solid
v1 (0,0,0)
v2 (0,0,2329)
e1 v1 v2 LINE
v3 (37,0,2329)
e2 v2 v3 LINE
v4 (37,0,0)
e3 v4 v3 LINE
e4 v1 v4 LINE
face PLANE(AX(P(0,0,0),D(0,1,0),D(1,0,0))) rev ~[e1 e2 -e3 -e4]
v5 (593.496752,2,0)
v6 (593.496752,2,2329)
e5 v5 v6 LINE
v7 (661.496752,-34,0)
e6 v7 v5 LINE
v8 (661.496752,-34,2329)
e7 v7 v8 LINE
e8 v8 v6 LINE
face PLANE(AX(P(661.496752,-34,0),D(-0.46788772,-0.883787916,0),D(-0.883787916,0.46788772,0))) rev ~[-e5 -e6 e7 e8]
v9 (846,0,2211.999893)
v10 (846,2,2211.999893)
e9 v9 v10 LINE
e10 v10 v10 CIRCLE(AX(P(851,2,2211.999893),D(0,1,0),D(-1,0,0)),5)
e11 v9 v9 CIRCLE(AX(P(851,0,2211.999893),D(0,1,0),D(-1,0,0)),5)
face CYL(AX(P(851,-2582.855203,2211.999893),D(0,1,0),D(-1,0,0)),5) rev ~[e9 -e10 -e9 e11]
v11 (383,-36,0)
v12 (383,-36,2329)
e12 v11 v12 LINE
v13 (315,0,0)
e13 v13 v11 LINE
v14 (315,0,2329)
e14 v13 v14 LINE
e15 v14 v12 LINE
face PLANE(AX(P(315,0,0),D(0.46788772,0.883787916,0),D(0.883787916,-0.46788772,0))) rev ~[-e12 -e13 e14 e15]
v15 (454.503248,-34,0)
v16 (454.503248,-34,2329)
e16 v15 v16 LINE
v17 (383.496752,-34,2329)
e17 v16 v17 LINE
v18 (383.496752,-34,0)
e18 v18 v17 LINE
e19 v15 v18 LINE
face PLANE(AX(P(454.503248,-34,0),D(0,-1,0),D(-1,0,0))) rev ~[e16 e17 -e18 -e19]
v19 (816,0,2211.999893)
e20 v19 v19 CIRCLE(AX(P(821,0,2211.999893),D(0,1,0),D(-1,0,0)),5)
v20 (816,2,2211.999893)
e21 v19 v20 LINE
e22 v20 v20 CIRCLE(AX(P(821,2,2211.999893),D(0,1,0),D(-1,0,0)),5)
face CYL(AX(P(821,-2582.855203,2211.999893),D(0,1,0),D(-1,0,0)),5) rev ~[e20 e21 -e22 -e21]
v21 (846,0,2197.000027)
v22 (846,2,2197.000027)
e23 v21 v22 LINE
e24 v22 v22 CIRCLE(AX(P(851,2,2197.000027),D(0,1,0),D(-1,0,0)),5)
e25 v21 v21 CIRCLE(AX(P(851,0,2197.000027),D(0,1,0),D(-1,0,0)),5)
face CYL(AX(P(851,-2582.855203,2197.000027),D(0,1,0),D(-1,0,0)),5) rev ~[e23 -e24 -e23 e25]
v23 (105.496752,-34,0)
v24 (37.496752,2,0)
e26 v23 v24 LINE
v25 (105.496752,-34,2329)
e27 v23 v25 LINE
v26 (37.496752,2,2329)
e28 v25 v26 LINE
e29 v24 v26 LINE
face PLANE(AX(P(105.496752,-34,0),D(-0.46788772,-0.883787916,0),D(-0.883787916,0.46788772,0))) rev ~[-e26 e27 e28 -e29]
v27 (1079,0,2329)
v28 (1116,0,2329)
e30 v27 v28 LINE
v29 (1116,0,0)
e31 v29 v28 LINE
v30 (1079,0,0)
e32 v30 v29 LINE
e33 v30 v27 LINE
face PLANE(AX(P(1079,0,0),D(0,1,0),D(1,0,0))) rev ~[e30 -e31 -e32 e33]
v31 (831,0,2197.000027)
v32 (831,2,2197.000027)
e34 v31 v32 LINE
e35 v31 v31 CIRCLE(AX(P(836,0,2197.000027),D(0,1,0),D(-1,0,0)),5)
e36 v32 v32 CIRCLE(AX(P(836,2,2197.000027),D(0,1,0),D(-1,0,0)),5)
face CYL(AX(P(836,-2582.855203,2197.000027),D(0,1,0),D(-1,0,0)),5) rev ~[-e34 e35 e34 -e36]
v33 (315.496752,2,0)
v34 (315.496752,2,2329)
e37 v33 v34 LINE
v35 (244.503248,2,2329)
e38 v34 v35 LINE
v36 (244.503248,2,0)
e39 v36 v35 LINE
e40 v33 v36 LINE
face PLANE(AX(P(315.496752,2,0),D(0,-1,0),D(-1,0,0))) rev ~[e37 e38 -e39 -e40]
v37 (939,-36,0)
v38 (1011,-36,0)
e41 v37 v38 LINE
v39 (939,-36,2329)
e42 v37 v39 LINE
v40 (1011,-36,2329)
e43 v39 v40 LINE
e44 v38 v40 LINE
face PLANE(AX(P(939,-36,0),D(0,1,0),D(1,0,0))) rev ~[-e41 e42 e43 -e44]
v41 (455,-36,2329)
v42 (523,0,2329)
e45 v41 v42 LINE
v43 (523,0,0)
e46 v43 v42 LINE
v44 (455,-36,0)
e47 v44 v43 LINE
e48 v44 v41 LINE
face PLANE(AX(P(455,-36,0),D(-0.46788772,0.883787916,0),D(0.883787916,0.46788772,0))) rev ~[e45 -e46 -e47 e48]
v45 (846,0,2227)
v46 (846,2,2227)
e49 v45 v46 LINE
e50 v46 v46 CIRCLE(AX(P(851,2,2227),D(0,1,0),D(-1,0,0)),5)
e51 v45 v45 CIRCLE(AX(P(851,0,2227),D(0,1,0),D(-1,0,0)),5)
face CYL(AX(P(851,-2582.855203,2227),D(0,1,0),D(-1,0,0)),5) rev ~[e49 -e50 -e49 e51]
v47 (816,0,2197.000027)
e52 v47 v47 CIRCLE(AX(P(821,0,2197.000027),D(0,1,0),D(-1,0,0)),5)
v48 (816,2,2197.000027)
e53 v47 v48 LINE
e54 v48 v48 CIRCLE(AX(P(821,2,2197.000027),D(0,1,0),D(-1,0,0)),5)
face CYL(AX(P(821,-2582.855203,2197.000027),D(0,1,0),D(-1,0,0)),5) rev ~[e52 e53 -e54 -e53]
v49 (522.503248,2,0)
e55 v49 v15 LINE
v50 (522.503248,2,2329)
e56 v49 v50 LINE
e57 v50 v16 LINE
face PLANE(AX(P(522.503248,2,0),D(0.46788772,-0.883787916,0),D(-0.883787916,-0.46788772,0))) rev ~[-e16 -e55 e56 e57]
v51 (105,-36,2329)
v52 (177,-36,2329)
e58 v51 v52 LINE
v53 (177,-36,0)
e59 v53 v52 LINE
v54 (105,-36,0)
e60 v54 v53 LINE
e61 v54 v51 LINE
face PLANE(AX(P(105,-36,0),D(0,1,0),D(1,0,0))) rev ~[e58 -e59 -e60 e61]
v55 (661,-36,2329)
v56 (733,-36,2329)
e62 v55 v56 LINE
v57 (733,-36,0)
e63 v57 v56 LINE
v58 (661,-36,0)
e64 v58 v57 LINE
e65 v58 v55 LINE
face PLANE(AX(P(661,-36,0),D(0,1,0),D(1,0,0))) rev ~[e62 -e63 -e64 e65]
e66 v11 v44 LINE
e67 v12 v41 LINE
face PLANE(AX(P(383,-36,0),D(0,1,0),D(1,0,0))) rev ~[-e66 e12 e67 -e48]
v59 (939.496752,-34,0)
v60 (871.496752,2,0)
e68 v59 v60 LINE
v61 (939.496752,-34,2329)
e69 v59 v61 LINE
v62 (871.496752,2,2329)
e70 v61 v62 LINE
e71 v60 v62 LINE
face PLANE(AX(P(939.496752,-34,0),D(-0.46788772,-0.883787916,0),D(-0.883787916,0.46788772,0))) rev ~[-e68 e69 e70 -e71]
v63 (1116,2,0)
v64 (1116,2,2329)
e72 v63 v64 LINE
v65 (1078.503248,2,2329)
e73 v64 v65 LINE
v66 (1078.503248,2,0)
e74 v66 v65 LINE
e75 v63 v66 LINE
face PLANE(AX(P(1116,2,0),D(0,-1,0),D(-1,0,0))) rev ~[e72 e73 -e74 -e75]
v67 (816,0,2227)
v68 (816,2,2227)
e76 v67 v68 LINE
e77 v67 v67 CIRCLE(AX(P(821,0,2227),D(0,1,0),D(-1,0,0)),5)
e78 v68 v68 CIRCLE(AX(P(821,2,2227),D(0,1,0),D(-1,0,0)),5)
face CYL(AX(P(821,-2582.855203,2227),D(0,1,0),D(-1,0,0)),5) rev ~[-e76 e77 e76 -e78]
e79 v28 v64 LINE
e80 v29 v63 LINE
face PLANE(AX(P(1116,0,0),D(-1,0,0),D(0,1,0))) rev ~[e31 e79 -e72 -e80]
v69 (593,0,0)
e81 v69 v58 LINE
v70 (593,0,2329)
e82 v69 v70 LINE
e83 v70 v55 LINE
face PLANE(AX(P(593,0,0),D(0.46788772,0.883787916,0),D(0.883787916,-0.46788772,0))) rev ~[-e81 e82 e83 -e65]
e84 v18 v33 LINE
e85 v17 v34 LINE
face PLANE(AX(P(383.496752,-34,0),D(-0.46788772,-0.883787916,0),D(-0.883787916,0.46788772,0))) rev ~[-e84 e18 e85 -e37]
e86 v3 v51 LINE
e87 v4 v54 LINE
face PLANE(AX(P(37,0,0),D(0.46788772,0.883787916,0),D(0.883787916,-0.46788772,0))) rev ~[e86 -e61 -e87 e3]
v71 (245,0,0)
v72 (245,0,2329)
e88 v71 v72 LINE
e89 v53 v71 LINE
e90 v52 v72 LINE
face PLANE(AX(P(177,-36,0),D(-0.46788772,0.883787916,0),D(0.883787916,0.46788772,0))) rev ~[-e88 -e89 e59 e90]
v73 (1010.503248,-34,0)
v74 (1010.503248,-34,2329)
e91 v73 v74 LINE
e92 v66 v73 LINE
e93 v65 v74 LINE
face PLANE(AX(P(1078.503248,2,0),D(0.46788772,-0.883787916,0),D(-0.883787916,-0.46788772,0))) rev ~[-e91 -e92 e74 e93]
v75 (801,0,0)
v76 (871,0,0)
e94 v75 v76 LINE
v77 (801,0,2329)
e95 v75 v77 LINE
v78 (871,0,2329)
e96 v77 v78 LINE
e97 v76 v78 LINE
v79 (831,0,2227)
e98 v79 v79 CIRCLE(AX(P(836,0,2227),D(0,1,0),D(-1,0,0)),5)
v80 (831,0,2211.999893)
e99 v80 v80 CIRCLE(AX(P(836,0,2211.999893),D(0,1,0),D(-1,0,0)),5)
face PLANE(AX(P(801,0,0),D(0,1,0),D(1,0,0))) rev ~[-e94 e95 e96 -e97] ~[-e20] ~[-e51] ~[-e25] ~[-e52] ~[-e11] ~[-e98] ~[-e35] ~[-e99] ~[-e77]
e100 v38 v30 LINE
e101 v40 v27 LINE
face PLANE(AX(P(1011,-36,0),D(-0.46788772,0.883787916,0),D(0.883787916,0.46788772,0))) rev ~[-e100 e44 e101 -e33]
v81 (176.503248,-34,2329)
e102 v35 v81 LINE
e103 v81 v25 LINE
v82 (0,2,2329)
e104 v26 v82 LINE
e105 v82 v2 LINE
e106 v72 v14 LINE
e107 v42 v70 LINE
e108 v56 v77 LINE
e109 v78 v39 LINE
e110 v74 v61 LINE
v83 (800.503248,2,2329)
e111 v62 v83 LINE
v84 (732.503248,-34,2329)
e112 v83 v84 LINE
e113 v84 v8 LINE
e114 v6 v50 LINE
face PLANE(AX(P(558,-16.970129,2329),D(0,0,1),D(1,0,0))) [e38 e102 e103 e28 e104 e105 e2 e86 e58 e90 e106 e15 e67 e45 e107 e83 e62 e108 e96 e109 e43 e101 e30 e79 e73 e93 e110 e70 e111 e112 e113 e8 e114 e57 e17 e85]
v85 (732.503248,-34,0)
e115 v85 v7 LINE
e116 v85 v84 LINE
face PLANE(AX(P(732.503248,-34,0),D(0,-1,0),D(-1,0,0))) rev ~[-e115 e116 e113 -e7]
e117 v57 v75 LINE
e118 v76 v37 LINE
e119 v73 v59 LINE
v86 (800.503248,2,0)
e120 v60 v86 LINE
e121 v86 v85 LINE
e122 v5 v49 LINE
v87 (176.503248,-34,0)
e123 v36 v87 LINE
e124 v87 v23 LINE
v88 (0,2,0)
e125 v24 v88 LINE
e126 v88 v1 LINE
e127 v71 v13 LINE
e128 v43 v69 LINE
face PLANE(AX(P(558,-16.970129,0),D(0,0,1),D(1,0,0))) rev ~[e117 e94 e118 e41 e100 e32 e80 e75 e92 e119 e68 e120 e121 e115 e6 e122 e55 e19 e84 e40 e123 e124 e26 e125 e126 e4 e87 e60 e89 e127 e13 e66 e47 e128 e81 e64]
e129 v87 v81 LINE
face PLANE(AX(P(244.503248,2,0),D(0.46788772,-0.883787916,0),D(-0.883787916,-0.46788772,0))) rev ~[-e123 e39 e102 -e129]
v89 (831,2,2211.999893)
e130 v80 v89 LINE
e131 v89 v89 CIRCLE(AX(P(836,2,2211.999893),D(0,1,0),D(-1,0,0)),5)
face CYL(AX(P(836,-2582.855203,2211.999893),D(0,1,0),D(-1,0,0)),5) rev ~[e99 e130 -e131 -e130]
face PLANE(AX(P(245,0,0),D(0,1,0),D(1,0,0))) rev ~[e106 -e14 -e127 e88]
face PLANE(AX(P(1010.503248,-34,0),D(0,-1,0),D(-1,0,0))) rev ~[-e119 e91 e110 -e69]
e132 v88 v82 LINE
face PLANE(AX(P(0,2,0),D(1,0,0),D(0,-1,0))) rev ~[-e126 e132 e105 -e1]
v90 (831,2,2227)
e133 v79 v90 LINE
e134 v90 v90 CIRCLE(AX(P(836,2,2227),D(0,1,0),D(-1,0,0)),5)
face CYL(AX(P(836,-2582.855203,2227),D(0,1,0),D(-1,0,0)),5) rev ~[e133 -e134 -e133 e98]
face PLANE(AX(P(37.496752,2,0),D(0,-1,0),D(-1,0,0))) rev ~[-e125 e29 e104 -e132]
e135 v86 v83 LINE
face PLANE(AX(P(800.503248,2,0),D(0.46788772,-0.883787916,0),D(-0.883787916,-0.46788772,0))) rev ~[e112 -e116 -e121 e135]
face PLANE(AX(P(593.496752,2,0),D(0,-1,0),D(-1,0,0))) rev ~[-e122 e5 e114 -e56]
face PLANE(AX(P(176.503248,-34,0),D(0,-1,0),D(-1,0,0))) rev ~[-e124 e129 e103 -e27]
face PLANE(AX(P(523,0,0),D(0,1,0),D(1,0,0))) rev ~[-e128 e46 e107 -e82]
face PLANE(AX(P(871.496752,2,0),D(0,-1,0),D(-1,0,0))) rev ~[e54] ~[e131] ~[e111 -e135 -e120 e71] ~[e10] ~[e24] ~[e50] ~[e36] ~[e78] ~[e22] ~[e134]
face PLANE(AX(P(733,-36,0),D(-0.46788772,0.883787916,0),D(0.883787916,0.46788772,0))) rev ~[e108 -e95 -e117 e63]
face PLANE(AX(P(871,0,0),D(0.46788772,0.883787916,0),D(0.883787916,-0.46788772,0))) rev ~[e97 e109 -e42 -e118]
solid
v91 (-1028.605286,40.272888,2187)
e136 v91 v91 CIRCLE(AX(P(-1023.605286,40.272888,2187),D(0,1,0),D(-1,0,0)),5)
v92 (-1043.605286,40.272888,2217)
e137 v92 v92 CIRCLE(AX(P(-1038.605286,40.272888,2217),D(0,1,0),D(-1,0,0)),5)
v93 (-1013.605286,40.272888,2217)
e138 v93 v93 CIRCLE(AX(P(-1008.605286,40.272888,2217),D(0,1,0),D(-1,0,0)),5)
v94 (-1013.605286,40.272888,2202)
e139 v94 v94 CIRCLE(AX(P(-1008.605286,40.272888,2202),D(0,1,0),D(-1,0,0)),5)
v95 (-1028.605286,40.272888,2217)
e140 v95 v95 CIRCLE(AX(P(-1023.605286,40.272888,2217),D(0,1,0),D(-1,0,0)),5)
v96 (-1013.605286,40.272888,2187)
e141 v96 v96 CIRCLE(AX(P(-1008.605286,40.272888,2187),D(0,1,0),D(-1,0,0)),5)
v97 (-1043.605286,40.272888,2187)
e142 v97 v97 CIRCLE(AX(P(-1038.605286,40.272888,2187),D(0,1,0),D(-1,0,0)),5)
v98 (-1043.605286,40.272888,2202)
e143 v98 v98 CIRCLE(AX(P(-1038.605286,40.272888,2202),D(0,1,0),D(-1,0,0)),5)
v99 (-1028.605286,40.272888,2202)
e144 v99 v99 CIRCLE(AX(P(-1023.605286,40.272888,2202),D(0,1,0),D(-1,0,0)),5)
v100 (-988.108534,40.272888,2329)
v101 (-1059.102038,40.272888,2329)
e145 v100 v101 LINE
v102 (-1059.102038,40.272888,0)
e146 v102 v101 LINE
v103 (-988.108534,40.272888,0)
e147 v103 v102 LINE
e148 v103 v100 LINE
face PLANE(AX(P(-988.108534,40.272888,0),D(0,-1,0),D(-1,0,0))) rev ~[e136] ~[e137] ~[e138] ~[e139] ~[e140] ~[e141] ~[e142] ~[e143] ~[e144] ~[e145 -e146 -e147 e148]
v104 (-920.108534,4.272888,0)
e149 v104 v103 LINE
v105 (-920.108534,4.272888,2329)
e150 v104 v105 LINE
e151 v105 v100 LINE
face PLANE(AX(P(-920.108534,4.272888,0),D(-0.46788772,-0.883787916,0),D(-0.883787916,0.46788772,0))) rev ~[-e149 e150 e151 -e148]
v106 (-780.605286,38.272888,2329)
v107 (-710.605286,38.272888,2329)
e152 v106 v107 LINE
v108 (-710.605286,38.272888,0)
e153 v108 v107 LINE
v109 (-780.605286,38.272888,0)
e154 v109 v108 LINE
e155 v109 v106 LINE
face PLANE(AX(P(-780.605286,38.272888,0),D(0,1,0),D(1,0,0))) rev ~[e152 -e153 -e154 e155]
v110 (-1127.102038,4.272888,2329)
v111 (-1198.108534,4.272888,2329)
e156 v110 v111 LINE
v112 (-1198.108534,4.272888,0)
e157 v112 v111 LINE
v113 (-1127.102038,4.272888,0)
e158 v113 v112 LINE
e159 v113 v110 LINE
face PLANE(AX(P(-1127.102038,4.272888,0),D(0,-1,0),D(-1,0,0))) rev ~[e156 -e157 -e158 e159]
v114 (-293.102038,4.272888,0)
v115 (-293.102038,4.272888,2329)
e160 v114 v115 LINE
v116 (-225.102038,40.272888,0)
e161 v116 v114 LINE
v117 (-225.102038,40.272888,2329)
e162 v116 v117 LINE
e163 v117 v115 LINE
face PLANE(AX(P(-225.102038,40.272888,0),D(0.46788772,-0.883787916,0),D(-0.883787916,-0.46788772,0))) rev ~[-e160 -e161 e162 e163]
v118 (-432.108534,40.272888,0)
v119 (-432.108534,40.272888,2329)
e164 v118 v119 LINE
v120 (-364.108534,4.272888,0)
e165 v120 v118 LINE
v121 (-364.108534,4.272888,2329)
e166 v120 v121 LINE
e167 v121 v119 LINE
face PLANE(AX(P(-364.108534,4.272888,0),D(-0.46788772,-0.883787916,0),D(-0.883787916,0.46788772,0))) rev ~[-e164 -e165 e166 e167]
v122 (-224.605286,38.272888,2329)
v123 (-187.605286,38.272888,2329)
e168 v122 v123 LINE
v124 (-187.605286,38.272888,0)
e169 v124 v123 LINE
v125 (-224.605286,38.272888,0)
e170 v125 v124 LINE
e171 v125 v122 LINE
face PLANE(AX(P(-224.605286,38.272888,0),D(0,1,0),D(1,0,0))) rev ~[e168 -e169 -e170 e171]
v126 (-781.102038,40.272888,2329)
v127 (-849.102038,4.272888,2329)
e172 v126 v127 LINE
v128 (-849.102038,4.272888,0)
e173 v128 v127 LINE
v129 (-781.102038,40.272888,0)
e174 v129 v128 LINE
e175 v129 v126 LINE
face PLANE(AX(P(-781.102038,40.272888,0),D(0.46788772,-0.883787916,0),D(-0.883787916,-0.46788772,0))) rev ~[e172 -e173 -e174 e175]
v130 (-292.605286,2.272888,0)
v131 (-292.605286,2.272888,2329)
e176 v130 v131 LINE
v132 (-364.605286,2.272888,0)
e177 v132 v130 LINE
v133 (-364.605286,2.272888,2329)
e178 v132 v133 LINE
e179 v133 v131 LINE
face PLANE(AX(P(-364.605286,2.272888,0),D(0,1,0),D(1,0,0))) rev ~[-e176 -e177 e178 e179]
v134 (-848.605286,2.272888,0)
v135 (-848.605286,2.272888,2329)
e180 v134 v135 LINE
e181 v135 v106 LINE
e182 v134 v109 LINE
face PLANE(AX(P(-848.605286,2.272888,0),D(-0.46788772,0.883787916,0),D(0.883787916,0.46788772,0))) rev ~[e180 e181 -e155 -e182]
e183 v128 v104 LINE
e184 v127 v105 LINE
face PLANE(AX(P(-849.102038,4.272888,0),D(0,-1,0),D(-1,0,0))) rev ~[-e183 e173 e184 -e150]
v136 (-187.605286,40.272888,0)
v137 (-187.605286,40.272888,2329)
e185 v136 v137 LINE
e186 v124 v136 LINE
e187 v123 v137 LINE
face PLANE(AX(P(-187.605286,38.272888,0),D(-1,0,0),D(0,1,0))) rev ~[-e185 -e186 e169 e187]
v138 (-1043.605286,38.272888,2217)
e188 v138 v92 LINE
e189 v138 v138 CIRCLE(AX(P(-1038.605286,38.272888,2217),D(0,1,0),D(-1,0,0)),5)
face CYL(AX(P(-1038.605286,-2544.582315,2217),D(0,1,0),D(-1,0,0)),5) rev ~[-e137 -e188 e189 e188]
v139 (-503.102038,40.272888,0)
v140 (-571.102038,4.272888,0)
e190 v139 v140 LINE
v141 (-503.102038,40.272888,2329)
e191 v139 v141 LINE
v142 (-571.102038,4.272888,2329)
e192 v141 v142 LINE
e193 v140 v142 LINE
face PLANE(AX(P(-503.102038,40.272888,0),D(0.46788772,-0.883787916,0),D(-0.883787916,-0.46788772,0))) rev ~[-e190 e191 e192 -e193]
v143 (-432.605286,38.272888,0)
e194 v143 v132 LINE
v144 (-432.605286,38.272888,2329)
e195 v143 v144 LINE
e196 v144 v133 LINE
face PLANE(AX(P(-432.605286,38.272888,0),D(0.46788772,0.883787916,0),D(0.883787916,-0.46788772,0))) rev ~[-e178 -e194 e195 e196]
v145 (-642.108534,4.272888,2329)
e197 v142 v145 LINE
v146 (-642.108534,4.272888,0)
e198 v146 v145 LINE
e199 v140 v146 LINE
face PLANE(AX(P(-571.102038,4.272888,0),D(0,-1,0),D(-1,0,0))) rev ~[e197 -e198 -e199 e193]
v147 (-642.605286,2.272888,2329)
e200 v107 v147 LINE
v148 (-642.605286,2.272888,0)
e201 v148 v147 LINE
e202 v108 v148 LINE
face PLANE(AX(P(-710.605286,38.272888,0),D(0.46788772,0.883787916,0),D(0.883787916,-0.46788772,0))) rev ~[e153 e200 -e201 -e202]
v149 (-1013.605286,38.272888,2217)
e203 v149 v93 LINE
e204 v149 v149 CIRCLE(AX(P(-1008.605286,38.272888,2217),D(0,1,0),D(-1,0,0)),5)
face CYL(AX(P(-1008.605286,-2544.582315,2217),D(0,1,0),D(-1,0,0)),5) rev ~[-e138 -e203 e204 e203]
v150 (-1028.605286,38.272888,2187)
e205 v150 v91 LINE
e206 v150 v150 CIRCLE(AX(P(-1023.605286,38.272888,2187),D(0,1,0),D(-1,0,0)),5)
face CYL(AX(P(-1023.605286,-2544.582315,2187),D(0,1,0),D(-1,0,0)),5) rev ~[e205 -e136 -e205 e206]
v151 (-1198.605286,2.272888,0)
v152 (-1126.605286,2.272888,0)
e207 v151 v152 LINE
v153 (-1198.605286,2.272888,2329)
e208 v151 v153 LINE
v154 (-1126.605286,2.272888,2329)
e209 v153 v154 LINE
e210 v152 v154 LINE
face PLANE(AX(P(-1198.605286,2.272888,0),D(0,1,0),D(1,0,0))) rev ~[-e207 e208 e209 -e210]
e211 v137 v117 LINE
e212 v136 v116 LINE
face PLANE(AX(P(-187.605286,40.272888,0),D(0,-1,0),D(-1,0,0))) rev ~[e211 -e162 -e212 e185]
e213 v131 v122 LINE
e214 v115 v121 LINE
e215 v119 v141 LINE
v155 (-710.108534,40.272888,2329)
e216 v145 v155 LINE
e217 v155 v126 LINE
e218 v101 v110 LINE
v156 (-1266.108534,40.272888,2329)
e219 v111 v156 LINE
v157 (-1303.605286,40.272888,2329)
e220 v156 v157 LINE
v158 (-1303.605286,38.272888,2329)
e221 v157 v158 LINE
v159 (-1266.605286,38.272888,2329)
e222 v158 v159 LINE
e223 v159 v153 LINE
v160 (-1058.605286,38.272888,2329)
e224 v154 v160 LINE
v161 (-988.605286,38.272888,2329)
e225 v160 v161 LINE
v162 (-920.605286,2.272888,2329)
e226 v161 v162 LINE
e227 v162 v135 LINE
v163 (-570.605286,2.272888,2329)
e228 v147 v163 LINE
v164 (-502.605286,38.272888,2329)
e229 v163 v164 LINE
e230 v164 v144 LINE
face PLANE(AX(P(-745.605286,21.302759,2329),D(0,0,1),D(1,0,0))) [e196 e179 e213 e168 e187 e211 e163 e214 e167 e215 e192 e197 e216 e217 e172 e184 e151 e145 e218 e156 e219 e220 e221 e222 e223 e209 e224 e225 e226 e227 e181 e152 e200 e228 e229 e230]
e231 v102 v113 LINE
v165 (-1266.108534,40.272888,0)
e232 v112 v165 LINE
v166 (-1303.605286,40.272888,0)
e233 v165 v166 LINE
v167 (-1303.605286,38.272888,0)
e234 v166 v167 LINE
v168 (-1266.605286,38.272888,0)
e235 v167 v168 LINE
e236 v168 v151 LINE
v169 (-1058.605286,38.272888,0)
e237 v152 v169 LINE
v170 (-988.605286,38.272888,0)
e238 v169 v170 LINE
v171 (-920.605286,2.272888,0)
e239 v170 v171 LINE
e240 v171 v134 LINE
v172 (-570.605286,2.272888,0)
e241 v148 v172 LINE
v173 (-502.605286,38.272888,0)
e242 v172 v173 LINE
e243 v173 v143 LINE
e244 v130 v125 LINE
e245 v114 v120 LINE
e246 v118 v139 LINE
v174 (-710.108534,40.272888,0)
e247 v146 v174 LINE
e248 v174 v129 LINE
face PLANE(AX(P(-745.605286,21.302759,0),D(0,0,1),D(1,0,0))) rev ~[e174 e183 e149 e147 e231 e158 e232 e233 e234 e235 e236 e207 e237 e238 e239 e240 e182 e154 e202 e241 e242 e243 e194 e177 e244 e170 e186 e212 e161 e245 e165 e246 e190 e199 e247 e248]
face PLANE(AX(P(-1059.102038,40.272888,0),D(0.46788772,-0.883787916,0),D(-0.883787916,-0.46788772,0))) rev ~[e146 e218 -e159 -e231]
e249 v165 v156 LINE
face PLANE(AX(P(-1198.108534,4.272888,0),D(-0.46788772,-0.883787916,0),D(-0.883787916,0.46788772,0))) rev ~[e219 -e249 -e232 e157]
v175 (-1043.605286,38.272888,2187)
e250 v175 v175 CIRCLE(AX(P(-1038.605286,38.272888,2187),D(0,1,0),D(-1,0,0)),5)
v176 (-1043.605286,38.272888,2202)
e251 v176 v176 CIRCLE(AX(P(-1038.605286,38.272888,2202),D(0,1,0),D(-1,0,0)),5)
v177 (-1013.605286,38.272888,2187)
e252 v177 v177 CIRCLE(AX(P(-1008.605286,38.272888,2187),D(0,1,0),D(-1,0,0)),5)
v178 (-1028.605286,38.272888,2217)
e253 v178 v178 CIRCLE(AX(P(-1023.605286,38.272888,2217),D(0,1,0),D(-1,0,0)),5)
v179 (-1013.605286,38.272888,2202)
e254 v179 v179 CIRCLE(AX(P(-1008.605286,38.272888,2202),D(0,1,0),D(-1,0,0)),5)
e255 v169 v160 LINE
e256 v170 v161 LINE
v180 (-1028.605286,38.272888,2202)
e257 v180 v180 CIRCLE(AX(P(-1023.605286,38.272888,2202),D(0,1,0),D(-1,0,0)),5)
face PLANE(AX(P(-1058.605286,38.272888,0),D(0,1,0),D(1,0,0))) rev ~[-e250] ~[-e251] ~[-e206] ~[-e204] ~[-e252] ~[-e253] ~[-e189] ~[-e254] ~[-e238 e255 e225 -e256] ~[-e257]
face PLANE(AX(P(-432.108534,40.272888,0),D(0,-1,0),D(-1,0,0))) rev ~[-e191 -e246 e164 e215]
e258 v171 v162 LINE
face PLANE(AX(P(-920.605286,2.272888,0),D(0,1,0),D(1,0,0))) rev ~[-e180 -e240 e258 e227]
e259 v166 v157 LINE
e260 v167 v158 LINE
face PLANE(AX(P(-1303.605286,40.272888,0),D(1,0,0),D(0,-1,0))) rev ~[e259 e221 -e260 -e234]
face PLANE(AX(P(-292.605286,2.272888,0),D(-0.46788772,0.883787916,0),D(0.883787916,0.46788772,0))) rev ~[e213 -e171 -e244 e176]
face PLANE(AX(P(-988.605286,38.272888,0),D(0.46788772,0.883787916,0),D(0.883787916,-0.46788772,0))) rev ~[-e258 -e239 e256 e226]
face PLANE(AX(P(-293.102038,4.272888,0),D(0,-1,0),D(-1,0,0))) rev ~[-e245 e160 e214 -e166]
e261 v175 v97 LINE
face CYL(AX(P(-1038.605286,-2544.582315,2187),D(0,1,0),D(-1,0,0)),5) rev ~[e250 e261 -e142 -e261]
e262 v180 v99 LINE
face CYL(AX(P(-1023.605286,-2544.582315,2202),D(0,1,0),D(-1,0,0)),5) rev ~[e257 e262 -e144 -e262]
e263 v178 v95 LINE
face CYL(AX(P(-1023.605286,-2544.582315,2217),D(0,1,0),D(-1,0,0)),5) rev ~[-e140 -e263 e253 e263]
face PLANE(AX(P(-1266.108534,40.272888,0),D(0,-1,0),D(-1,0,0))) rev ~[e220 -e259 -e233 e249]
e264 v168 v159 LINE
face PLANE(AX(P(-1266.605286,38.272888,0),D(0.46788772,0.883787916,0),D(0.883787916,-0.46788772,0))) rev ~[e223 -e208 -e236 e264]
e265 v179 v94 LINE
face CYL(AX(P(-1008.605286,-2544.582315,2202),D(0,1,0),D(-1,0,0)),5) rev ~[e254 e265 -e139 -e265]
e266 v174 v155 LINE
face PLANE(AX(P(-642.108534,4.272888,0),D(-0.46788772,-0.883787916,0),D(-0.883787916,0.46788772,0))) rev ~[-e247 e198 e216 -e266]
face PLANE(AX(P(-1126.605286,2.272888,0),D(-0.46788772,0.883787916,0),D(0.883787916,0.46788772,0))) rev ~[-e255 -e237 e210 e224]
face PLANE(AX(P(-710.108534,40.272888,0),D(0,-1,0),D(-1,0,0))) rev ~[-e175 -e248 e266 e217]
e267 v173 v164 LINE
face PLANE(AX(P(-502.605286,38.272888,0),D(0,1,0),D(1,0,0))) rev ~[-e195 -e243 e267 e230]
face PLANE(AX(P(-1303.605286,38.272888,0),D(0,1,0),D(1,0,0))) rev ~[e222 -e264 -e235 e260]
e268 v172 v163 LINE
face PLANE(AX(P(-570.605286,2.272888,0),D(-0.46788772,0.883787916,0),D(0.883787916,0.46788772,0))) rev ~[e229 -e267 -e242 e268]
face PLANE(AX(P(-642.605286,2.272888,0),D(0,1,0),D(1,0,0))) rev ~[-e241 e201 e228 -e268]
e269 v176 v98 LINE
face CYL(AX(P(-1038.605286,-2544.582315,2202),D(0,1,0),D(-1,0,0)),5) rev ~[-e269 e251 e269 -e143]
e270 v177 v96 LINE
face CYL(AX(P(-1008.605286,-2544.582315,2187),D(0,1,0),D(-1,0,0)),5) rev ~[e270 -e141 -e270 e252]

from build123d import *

# Parameters (mm, degrees)
F1_DEPTH = 2329
F3_D     = 10
F5_DEPTH = 2329
F7_D     = 10


with BuildPart() as f1:
    # F0 (on Top) → F1 (new body)
    with BuildSketch(Plane.XY):
        Polygon((0, 2), (0, 0), (37, 0), (105, -36), (177, -36), (245, 0), (315, 0), (383, -36), (455, -36), (523, 0), (593, 0), (661, -36), (733, -36), (801, 0), (871, 0), (939, -36), (1011, -36), (1079, 0), (1116, 0), (1116, 2), (1078.503248, 2), (1010.503248, -34), (939.496752, -34), (871.496752, 2), (800.503248, 2), (732.503248, -34), (661.496752, -34), (593.496752, 2), (522.503248, 2), (454.503248, -34), (383.496752, -34), (315.496752, 2), (244.503248, 2), (176.503248, -34), (105.496752, -34), (37.496752, 2), align=None)
    extrude(amount=F1_DEPTH)

    # F3 (through all)
    with Locations(Plane.XZ):
        with Locations((836, 2227), (851, 2227), (851, 2211.999893), (836, 2211.999893), (821, 2197.000027), (836, 2197.000027), (851, 2197.000027), (821, 2211.999893), (821, 2227)):
            Hole(F3_D / 2)


with BuildPart() as f5:
    # F4 (on Top) → F5 (new body)
    with BuildSketch(Plane.XY):
        Polygon((-1303.605286, 40.272888), (-1303.605286, 38.272888), (-1266.605286, 38.272888), (-1198.605286, 2.272888), (-1126.605286, 2.272888), (-1058.605286, 38.272888), (-988.605286, 38.272888), (-920.605286, 2.272888), (-848.605286, 2.272888), (-780.605286, 38.272888), (-710.605286, 38.272888), (-642.605286, 2.272888), (-570.605286, 2.272888), (-502.605286, 38.272888), (-432.605286, 38.272888), (-364.605286, 2.272888), (-292.605286, 2.272888), (-224.605286, 38.272888), (-187.605286, 38.272888), (-187.605286, 40.272888), (-225.102038, 40.272888), (-293.102038, 4.272888), (-364.108534, 4.272888), (-432.108534, 40.272888), (-503.102038, 40.272888), (-571.102038, 4.272888), (-642.108534, 4.272888), (-710.108534, 40.272888), (-781.102038, 40.272888), (-849.102038, 4.272888), (-920.108534, 4.272888), (-988.108534, 40.272888), (-1059.102038, 40.272888), (-1127.102038, 4.272888), (-1198.108534, 4.272888), (-1266.108534, 40.272888), align=None)
    extrude(amount=F5_DEPTH)

    # F7 (through all)
    with Locations(Plane.XZ.offset(-38.272888)):
        with Locations((-1038.605286, 2217), (-1023.605286, 2217), (-1008.605286, 2217), (-1008.605286, 2202), (-1023.605286, 2202), (-1038.605286, 2202), (-1038.605286, 2187), (-1023.605286, 2187), (-1008.605286, 2187)):
            Hole(F7_D / 2)


solid = Compound([f1.part, f5.part])
